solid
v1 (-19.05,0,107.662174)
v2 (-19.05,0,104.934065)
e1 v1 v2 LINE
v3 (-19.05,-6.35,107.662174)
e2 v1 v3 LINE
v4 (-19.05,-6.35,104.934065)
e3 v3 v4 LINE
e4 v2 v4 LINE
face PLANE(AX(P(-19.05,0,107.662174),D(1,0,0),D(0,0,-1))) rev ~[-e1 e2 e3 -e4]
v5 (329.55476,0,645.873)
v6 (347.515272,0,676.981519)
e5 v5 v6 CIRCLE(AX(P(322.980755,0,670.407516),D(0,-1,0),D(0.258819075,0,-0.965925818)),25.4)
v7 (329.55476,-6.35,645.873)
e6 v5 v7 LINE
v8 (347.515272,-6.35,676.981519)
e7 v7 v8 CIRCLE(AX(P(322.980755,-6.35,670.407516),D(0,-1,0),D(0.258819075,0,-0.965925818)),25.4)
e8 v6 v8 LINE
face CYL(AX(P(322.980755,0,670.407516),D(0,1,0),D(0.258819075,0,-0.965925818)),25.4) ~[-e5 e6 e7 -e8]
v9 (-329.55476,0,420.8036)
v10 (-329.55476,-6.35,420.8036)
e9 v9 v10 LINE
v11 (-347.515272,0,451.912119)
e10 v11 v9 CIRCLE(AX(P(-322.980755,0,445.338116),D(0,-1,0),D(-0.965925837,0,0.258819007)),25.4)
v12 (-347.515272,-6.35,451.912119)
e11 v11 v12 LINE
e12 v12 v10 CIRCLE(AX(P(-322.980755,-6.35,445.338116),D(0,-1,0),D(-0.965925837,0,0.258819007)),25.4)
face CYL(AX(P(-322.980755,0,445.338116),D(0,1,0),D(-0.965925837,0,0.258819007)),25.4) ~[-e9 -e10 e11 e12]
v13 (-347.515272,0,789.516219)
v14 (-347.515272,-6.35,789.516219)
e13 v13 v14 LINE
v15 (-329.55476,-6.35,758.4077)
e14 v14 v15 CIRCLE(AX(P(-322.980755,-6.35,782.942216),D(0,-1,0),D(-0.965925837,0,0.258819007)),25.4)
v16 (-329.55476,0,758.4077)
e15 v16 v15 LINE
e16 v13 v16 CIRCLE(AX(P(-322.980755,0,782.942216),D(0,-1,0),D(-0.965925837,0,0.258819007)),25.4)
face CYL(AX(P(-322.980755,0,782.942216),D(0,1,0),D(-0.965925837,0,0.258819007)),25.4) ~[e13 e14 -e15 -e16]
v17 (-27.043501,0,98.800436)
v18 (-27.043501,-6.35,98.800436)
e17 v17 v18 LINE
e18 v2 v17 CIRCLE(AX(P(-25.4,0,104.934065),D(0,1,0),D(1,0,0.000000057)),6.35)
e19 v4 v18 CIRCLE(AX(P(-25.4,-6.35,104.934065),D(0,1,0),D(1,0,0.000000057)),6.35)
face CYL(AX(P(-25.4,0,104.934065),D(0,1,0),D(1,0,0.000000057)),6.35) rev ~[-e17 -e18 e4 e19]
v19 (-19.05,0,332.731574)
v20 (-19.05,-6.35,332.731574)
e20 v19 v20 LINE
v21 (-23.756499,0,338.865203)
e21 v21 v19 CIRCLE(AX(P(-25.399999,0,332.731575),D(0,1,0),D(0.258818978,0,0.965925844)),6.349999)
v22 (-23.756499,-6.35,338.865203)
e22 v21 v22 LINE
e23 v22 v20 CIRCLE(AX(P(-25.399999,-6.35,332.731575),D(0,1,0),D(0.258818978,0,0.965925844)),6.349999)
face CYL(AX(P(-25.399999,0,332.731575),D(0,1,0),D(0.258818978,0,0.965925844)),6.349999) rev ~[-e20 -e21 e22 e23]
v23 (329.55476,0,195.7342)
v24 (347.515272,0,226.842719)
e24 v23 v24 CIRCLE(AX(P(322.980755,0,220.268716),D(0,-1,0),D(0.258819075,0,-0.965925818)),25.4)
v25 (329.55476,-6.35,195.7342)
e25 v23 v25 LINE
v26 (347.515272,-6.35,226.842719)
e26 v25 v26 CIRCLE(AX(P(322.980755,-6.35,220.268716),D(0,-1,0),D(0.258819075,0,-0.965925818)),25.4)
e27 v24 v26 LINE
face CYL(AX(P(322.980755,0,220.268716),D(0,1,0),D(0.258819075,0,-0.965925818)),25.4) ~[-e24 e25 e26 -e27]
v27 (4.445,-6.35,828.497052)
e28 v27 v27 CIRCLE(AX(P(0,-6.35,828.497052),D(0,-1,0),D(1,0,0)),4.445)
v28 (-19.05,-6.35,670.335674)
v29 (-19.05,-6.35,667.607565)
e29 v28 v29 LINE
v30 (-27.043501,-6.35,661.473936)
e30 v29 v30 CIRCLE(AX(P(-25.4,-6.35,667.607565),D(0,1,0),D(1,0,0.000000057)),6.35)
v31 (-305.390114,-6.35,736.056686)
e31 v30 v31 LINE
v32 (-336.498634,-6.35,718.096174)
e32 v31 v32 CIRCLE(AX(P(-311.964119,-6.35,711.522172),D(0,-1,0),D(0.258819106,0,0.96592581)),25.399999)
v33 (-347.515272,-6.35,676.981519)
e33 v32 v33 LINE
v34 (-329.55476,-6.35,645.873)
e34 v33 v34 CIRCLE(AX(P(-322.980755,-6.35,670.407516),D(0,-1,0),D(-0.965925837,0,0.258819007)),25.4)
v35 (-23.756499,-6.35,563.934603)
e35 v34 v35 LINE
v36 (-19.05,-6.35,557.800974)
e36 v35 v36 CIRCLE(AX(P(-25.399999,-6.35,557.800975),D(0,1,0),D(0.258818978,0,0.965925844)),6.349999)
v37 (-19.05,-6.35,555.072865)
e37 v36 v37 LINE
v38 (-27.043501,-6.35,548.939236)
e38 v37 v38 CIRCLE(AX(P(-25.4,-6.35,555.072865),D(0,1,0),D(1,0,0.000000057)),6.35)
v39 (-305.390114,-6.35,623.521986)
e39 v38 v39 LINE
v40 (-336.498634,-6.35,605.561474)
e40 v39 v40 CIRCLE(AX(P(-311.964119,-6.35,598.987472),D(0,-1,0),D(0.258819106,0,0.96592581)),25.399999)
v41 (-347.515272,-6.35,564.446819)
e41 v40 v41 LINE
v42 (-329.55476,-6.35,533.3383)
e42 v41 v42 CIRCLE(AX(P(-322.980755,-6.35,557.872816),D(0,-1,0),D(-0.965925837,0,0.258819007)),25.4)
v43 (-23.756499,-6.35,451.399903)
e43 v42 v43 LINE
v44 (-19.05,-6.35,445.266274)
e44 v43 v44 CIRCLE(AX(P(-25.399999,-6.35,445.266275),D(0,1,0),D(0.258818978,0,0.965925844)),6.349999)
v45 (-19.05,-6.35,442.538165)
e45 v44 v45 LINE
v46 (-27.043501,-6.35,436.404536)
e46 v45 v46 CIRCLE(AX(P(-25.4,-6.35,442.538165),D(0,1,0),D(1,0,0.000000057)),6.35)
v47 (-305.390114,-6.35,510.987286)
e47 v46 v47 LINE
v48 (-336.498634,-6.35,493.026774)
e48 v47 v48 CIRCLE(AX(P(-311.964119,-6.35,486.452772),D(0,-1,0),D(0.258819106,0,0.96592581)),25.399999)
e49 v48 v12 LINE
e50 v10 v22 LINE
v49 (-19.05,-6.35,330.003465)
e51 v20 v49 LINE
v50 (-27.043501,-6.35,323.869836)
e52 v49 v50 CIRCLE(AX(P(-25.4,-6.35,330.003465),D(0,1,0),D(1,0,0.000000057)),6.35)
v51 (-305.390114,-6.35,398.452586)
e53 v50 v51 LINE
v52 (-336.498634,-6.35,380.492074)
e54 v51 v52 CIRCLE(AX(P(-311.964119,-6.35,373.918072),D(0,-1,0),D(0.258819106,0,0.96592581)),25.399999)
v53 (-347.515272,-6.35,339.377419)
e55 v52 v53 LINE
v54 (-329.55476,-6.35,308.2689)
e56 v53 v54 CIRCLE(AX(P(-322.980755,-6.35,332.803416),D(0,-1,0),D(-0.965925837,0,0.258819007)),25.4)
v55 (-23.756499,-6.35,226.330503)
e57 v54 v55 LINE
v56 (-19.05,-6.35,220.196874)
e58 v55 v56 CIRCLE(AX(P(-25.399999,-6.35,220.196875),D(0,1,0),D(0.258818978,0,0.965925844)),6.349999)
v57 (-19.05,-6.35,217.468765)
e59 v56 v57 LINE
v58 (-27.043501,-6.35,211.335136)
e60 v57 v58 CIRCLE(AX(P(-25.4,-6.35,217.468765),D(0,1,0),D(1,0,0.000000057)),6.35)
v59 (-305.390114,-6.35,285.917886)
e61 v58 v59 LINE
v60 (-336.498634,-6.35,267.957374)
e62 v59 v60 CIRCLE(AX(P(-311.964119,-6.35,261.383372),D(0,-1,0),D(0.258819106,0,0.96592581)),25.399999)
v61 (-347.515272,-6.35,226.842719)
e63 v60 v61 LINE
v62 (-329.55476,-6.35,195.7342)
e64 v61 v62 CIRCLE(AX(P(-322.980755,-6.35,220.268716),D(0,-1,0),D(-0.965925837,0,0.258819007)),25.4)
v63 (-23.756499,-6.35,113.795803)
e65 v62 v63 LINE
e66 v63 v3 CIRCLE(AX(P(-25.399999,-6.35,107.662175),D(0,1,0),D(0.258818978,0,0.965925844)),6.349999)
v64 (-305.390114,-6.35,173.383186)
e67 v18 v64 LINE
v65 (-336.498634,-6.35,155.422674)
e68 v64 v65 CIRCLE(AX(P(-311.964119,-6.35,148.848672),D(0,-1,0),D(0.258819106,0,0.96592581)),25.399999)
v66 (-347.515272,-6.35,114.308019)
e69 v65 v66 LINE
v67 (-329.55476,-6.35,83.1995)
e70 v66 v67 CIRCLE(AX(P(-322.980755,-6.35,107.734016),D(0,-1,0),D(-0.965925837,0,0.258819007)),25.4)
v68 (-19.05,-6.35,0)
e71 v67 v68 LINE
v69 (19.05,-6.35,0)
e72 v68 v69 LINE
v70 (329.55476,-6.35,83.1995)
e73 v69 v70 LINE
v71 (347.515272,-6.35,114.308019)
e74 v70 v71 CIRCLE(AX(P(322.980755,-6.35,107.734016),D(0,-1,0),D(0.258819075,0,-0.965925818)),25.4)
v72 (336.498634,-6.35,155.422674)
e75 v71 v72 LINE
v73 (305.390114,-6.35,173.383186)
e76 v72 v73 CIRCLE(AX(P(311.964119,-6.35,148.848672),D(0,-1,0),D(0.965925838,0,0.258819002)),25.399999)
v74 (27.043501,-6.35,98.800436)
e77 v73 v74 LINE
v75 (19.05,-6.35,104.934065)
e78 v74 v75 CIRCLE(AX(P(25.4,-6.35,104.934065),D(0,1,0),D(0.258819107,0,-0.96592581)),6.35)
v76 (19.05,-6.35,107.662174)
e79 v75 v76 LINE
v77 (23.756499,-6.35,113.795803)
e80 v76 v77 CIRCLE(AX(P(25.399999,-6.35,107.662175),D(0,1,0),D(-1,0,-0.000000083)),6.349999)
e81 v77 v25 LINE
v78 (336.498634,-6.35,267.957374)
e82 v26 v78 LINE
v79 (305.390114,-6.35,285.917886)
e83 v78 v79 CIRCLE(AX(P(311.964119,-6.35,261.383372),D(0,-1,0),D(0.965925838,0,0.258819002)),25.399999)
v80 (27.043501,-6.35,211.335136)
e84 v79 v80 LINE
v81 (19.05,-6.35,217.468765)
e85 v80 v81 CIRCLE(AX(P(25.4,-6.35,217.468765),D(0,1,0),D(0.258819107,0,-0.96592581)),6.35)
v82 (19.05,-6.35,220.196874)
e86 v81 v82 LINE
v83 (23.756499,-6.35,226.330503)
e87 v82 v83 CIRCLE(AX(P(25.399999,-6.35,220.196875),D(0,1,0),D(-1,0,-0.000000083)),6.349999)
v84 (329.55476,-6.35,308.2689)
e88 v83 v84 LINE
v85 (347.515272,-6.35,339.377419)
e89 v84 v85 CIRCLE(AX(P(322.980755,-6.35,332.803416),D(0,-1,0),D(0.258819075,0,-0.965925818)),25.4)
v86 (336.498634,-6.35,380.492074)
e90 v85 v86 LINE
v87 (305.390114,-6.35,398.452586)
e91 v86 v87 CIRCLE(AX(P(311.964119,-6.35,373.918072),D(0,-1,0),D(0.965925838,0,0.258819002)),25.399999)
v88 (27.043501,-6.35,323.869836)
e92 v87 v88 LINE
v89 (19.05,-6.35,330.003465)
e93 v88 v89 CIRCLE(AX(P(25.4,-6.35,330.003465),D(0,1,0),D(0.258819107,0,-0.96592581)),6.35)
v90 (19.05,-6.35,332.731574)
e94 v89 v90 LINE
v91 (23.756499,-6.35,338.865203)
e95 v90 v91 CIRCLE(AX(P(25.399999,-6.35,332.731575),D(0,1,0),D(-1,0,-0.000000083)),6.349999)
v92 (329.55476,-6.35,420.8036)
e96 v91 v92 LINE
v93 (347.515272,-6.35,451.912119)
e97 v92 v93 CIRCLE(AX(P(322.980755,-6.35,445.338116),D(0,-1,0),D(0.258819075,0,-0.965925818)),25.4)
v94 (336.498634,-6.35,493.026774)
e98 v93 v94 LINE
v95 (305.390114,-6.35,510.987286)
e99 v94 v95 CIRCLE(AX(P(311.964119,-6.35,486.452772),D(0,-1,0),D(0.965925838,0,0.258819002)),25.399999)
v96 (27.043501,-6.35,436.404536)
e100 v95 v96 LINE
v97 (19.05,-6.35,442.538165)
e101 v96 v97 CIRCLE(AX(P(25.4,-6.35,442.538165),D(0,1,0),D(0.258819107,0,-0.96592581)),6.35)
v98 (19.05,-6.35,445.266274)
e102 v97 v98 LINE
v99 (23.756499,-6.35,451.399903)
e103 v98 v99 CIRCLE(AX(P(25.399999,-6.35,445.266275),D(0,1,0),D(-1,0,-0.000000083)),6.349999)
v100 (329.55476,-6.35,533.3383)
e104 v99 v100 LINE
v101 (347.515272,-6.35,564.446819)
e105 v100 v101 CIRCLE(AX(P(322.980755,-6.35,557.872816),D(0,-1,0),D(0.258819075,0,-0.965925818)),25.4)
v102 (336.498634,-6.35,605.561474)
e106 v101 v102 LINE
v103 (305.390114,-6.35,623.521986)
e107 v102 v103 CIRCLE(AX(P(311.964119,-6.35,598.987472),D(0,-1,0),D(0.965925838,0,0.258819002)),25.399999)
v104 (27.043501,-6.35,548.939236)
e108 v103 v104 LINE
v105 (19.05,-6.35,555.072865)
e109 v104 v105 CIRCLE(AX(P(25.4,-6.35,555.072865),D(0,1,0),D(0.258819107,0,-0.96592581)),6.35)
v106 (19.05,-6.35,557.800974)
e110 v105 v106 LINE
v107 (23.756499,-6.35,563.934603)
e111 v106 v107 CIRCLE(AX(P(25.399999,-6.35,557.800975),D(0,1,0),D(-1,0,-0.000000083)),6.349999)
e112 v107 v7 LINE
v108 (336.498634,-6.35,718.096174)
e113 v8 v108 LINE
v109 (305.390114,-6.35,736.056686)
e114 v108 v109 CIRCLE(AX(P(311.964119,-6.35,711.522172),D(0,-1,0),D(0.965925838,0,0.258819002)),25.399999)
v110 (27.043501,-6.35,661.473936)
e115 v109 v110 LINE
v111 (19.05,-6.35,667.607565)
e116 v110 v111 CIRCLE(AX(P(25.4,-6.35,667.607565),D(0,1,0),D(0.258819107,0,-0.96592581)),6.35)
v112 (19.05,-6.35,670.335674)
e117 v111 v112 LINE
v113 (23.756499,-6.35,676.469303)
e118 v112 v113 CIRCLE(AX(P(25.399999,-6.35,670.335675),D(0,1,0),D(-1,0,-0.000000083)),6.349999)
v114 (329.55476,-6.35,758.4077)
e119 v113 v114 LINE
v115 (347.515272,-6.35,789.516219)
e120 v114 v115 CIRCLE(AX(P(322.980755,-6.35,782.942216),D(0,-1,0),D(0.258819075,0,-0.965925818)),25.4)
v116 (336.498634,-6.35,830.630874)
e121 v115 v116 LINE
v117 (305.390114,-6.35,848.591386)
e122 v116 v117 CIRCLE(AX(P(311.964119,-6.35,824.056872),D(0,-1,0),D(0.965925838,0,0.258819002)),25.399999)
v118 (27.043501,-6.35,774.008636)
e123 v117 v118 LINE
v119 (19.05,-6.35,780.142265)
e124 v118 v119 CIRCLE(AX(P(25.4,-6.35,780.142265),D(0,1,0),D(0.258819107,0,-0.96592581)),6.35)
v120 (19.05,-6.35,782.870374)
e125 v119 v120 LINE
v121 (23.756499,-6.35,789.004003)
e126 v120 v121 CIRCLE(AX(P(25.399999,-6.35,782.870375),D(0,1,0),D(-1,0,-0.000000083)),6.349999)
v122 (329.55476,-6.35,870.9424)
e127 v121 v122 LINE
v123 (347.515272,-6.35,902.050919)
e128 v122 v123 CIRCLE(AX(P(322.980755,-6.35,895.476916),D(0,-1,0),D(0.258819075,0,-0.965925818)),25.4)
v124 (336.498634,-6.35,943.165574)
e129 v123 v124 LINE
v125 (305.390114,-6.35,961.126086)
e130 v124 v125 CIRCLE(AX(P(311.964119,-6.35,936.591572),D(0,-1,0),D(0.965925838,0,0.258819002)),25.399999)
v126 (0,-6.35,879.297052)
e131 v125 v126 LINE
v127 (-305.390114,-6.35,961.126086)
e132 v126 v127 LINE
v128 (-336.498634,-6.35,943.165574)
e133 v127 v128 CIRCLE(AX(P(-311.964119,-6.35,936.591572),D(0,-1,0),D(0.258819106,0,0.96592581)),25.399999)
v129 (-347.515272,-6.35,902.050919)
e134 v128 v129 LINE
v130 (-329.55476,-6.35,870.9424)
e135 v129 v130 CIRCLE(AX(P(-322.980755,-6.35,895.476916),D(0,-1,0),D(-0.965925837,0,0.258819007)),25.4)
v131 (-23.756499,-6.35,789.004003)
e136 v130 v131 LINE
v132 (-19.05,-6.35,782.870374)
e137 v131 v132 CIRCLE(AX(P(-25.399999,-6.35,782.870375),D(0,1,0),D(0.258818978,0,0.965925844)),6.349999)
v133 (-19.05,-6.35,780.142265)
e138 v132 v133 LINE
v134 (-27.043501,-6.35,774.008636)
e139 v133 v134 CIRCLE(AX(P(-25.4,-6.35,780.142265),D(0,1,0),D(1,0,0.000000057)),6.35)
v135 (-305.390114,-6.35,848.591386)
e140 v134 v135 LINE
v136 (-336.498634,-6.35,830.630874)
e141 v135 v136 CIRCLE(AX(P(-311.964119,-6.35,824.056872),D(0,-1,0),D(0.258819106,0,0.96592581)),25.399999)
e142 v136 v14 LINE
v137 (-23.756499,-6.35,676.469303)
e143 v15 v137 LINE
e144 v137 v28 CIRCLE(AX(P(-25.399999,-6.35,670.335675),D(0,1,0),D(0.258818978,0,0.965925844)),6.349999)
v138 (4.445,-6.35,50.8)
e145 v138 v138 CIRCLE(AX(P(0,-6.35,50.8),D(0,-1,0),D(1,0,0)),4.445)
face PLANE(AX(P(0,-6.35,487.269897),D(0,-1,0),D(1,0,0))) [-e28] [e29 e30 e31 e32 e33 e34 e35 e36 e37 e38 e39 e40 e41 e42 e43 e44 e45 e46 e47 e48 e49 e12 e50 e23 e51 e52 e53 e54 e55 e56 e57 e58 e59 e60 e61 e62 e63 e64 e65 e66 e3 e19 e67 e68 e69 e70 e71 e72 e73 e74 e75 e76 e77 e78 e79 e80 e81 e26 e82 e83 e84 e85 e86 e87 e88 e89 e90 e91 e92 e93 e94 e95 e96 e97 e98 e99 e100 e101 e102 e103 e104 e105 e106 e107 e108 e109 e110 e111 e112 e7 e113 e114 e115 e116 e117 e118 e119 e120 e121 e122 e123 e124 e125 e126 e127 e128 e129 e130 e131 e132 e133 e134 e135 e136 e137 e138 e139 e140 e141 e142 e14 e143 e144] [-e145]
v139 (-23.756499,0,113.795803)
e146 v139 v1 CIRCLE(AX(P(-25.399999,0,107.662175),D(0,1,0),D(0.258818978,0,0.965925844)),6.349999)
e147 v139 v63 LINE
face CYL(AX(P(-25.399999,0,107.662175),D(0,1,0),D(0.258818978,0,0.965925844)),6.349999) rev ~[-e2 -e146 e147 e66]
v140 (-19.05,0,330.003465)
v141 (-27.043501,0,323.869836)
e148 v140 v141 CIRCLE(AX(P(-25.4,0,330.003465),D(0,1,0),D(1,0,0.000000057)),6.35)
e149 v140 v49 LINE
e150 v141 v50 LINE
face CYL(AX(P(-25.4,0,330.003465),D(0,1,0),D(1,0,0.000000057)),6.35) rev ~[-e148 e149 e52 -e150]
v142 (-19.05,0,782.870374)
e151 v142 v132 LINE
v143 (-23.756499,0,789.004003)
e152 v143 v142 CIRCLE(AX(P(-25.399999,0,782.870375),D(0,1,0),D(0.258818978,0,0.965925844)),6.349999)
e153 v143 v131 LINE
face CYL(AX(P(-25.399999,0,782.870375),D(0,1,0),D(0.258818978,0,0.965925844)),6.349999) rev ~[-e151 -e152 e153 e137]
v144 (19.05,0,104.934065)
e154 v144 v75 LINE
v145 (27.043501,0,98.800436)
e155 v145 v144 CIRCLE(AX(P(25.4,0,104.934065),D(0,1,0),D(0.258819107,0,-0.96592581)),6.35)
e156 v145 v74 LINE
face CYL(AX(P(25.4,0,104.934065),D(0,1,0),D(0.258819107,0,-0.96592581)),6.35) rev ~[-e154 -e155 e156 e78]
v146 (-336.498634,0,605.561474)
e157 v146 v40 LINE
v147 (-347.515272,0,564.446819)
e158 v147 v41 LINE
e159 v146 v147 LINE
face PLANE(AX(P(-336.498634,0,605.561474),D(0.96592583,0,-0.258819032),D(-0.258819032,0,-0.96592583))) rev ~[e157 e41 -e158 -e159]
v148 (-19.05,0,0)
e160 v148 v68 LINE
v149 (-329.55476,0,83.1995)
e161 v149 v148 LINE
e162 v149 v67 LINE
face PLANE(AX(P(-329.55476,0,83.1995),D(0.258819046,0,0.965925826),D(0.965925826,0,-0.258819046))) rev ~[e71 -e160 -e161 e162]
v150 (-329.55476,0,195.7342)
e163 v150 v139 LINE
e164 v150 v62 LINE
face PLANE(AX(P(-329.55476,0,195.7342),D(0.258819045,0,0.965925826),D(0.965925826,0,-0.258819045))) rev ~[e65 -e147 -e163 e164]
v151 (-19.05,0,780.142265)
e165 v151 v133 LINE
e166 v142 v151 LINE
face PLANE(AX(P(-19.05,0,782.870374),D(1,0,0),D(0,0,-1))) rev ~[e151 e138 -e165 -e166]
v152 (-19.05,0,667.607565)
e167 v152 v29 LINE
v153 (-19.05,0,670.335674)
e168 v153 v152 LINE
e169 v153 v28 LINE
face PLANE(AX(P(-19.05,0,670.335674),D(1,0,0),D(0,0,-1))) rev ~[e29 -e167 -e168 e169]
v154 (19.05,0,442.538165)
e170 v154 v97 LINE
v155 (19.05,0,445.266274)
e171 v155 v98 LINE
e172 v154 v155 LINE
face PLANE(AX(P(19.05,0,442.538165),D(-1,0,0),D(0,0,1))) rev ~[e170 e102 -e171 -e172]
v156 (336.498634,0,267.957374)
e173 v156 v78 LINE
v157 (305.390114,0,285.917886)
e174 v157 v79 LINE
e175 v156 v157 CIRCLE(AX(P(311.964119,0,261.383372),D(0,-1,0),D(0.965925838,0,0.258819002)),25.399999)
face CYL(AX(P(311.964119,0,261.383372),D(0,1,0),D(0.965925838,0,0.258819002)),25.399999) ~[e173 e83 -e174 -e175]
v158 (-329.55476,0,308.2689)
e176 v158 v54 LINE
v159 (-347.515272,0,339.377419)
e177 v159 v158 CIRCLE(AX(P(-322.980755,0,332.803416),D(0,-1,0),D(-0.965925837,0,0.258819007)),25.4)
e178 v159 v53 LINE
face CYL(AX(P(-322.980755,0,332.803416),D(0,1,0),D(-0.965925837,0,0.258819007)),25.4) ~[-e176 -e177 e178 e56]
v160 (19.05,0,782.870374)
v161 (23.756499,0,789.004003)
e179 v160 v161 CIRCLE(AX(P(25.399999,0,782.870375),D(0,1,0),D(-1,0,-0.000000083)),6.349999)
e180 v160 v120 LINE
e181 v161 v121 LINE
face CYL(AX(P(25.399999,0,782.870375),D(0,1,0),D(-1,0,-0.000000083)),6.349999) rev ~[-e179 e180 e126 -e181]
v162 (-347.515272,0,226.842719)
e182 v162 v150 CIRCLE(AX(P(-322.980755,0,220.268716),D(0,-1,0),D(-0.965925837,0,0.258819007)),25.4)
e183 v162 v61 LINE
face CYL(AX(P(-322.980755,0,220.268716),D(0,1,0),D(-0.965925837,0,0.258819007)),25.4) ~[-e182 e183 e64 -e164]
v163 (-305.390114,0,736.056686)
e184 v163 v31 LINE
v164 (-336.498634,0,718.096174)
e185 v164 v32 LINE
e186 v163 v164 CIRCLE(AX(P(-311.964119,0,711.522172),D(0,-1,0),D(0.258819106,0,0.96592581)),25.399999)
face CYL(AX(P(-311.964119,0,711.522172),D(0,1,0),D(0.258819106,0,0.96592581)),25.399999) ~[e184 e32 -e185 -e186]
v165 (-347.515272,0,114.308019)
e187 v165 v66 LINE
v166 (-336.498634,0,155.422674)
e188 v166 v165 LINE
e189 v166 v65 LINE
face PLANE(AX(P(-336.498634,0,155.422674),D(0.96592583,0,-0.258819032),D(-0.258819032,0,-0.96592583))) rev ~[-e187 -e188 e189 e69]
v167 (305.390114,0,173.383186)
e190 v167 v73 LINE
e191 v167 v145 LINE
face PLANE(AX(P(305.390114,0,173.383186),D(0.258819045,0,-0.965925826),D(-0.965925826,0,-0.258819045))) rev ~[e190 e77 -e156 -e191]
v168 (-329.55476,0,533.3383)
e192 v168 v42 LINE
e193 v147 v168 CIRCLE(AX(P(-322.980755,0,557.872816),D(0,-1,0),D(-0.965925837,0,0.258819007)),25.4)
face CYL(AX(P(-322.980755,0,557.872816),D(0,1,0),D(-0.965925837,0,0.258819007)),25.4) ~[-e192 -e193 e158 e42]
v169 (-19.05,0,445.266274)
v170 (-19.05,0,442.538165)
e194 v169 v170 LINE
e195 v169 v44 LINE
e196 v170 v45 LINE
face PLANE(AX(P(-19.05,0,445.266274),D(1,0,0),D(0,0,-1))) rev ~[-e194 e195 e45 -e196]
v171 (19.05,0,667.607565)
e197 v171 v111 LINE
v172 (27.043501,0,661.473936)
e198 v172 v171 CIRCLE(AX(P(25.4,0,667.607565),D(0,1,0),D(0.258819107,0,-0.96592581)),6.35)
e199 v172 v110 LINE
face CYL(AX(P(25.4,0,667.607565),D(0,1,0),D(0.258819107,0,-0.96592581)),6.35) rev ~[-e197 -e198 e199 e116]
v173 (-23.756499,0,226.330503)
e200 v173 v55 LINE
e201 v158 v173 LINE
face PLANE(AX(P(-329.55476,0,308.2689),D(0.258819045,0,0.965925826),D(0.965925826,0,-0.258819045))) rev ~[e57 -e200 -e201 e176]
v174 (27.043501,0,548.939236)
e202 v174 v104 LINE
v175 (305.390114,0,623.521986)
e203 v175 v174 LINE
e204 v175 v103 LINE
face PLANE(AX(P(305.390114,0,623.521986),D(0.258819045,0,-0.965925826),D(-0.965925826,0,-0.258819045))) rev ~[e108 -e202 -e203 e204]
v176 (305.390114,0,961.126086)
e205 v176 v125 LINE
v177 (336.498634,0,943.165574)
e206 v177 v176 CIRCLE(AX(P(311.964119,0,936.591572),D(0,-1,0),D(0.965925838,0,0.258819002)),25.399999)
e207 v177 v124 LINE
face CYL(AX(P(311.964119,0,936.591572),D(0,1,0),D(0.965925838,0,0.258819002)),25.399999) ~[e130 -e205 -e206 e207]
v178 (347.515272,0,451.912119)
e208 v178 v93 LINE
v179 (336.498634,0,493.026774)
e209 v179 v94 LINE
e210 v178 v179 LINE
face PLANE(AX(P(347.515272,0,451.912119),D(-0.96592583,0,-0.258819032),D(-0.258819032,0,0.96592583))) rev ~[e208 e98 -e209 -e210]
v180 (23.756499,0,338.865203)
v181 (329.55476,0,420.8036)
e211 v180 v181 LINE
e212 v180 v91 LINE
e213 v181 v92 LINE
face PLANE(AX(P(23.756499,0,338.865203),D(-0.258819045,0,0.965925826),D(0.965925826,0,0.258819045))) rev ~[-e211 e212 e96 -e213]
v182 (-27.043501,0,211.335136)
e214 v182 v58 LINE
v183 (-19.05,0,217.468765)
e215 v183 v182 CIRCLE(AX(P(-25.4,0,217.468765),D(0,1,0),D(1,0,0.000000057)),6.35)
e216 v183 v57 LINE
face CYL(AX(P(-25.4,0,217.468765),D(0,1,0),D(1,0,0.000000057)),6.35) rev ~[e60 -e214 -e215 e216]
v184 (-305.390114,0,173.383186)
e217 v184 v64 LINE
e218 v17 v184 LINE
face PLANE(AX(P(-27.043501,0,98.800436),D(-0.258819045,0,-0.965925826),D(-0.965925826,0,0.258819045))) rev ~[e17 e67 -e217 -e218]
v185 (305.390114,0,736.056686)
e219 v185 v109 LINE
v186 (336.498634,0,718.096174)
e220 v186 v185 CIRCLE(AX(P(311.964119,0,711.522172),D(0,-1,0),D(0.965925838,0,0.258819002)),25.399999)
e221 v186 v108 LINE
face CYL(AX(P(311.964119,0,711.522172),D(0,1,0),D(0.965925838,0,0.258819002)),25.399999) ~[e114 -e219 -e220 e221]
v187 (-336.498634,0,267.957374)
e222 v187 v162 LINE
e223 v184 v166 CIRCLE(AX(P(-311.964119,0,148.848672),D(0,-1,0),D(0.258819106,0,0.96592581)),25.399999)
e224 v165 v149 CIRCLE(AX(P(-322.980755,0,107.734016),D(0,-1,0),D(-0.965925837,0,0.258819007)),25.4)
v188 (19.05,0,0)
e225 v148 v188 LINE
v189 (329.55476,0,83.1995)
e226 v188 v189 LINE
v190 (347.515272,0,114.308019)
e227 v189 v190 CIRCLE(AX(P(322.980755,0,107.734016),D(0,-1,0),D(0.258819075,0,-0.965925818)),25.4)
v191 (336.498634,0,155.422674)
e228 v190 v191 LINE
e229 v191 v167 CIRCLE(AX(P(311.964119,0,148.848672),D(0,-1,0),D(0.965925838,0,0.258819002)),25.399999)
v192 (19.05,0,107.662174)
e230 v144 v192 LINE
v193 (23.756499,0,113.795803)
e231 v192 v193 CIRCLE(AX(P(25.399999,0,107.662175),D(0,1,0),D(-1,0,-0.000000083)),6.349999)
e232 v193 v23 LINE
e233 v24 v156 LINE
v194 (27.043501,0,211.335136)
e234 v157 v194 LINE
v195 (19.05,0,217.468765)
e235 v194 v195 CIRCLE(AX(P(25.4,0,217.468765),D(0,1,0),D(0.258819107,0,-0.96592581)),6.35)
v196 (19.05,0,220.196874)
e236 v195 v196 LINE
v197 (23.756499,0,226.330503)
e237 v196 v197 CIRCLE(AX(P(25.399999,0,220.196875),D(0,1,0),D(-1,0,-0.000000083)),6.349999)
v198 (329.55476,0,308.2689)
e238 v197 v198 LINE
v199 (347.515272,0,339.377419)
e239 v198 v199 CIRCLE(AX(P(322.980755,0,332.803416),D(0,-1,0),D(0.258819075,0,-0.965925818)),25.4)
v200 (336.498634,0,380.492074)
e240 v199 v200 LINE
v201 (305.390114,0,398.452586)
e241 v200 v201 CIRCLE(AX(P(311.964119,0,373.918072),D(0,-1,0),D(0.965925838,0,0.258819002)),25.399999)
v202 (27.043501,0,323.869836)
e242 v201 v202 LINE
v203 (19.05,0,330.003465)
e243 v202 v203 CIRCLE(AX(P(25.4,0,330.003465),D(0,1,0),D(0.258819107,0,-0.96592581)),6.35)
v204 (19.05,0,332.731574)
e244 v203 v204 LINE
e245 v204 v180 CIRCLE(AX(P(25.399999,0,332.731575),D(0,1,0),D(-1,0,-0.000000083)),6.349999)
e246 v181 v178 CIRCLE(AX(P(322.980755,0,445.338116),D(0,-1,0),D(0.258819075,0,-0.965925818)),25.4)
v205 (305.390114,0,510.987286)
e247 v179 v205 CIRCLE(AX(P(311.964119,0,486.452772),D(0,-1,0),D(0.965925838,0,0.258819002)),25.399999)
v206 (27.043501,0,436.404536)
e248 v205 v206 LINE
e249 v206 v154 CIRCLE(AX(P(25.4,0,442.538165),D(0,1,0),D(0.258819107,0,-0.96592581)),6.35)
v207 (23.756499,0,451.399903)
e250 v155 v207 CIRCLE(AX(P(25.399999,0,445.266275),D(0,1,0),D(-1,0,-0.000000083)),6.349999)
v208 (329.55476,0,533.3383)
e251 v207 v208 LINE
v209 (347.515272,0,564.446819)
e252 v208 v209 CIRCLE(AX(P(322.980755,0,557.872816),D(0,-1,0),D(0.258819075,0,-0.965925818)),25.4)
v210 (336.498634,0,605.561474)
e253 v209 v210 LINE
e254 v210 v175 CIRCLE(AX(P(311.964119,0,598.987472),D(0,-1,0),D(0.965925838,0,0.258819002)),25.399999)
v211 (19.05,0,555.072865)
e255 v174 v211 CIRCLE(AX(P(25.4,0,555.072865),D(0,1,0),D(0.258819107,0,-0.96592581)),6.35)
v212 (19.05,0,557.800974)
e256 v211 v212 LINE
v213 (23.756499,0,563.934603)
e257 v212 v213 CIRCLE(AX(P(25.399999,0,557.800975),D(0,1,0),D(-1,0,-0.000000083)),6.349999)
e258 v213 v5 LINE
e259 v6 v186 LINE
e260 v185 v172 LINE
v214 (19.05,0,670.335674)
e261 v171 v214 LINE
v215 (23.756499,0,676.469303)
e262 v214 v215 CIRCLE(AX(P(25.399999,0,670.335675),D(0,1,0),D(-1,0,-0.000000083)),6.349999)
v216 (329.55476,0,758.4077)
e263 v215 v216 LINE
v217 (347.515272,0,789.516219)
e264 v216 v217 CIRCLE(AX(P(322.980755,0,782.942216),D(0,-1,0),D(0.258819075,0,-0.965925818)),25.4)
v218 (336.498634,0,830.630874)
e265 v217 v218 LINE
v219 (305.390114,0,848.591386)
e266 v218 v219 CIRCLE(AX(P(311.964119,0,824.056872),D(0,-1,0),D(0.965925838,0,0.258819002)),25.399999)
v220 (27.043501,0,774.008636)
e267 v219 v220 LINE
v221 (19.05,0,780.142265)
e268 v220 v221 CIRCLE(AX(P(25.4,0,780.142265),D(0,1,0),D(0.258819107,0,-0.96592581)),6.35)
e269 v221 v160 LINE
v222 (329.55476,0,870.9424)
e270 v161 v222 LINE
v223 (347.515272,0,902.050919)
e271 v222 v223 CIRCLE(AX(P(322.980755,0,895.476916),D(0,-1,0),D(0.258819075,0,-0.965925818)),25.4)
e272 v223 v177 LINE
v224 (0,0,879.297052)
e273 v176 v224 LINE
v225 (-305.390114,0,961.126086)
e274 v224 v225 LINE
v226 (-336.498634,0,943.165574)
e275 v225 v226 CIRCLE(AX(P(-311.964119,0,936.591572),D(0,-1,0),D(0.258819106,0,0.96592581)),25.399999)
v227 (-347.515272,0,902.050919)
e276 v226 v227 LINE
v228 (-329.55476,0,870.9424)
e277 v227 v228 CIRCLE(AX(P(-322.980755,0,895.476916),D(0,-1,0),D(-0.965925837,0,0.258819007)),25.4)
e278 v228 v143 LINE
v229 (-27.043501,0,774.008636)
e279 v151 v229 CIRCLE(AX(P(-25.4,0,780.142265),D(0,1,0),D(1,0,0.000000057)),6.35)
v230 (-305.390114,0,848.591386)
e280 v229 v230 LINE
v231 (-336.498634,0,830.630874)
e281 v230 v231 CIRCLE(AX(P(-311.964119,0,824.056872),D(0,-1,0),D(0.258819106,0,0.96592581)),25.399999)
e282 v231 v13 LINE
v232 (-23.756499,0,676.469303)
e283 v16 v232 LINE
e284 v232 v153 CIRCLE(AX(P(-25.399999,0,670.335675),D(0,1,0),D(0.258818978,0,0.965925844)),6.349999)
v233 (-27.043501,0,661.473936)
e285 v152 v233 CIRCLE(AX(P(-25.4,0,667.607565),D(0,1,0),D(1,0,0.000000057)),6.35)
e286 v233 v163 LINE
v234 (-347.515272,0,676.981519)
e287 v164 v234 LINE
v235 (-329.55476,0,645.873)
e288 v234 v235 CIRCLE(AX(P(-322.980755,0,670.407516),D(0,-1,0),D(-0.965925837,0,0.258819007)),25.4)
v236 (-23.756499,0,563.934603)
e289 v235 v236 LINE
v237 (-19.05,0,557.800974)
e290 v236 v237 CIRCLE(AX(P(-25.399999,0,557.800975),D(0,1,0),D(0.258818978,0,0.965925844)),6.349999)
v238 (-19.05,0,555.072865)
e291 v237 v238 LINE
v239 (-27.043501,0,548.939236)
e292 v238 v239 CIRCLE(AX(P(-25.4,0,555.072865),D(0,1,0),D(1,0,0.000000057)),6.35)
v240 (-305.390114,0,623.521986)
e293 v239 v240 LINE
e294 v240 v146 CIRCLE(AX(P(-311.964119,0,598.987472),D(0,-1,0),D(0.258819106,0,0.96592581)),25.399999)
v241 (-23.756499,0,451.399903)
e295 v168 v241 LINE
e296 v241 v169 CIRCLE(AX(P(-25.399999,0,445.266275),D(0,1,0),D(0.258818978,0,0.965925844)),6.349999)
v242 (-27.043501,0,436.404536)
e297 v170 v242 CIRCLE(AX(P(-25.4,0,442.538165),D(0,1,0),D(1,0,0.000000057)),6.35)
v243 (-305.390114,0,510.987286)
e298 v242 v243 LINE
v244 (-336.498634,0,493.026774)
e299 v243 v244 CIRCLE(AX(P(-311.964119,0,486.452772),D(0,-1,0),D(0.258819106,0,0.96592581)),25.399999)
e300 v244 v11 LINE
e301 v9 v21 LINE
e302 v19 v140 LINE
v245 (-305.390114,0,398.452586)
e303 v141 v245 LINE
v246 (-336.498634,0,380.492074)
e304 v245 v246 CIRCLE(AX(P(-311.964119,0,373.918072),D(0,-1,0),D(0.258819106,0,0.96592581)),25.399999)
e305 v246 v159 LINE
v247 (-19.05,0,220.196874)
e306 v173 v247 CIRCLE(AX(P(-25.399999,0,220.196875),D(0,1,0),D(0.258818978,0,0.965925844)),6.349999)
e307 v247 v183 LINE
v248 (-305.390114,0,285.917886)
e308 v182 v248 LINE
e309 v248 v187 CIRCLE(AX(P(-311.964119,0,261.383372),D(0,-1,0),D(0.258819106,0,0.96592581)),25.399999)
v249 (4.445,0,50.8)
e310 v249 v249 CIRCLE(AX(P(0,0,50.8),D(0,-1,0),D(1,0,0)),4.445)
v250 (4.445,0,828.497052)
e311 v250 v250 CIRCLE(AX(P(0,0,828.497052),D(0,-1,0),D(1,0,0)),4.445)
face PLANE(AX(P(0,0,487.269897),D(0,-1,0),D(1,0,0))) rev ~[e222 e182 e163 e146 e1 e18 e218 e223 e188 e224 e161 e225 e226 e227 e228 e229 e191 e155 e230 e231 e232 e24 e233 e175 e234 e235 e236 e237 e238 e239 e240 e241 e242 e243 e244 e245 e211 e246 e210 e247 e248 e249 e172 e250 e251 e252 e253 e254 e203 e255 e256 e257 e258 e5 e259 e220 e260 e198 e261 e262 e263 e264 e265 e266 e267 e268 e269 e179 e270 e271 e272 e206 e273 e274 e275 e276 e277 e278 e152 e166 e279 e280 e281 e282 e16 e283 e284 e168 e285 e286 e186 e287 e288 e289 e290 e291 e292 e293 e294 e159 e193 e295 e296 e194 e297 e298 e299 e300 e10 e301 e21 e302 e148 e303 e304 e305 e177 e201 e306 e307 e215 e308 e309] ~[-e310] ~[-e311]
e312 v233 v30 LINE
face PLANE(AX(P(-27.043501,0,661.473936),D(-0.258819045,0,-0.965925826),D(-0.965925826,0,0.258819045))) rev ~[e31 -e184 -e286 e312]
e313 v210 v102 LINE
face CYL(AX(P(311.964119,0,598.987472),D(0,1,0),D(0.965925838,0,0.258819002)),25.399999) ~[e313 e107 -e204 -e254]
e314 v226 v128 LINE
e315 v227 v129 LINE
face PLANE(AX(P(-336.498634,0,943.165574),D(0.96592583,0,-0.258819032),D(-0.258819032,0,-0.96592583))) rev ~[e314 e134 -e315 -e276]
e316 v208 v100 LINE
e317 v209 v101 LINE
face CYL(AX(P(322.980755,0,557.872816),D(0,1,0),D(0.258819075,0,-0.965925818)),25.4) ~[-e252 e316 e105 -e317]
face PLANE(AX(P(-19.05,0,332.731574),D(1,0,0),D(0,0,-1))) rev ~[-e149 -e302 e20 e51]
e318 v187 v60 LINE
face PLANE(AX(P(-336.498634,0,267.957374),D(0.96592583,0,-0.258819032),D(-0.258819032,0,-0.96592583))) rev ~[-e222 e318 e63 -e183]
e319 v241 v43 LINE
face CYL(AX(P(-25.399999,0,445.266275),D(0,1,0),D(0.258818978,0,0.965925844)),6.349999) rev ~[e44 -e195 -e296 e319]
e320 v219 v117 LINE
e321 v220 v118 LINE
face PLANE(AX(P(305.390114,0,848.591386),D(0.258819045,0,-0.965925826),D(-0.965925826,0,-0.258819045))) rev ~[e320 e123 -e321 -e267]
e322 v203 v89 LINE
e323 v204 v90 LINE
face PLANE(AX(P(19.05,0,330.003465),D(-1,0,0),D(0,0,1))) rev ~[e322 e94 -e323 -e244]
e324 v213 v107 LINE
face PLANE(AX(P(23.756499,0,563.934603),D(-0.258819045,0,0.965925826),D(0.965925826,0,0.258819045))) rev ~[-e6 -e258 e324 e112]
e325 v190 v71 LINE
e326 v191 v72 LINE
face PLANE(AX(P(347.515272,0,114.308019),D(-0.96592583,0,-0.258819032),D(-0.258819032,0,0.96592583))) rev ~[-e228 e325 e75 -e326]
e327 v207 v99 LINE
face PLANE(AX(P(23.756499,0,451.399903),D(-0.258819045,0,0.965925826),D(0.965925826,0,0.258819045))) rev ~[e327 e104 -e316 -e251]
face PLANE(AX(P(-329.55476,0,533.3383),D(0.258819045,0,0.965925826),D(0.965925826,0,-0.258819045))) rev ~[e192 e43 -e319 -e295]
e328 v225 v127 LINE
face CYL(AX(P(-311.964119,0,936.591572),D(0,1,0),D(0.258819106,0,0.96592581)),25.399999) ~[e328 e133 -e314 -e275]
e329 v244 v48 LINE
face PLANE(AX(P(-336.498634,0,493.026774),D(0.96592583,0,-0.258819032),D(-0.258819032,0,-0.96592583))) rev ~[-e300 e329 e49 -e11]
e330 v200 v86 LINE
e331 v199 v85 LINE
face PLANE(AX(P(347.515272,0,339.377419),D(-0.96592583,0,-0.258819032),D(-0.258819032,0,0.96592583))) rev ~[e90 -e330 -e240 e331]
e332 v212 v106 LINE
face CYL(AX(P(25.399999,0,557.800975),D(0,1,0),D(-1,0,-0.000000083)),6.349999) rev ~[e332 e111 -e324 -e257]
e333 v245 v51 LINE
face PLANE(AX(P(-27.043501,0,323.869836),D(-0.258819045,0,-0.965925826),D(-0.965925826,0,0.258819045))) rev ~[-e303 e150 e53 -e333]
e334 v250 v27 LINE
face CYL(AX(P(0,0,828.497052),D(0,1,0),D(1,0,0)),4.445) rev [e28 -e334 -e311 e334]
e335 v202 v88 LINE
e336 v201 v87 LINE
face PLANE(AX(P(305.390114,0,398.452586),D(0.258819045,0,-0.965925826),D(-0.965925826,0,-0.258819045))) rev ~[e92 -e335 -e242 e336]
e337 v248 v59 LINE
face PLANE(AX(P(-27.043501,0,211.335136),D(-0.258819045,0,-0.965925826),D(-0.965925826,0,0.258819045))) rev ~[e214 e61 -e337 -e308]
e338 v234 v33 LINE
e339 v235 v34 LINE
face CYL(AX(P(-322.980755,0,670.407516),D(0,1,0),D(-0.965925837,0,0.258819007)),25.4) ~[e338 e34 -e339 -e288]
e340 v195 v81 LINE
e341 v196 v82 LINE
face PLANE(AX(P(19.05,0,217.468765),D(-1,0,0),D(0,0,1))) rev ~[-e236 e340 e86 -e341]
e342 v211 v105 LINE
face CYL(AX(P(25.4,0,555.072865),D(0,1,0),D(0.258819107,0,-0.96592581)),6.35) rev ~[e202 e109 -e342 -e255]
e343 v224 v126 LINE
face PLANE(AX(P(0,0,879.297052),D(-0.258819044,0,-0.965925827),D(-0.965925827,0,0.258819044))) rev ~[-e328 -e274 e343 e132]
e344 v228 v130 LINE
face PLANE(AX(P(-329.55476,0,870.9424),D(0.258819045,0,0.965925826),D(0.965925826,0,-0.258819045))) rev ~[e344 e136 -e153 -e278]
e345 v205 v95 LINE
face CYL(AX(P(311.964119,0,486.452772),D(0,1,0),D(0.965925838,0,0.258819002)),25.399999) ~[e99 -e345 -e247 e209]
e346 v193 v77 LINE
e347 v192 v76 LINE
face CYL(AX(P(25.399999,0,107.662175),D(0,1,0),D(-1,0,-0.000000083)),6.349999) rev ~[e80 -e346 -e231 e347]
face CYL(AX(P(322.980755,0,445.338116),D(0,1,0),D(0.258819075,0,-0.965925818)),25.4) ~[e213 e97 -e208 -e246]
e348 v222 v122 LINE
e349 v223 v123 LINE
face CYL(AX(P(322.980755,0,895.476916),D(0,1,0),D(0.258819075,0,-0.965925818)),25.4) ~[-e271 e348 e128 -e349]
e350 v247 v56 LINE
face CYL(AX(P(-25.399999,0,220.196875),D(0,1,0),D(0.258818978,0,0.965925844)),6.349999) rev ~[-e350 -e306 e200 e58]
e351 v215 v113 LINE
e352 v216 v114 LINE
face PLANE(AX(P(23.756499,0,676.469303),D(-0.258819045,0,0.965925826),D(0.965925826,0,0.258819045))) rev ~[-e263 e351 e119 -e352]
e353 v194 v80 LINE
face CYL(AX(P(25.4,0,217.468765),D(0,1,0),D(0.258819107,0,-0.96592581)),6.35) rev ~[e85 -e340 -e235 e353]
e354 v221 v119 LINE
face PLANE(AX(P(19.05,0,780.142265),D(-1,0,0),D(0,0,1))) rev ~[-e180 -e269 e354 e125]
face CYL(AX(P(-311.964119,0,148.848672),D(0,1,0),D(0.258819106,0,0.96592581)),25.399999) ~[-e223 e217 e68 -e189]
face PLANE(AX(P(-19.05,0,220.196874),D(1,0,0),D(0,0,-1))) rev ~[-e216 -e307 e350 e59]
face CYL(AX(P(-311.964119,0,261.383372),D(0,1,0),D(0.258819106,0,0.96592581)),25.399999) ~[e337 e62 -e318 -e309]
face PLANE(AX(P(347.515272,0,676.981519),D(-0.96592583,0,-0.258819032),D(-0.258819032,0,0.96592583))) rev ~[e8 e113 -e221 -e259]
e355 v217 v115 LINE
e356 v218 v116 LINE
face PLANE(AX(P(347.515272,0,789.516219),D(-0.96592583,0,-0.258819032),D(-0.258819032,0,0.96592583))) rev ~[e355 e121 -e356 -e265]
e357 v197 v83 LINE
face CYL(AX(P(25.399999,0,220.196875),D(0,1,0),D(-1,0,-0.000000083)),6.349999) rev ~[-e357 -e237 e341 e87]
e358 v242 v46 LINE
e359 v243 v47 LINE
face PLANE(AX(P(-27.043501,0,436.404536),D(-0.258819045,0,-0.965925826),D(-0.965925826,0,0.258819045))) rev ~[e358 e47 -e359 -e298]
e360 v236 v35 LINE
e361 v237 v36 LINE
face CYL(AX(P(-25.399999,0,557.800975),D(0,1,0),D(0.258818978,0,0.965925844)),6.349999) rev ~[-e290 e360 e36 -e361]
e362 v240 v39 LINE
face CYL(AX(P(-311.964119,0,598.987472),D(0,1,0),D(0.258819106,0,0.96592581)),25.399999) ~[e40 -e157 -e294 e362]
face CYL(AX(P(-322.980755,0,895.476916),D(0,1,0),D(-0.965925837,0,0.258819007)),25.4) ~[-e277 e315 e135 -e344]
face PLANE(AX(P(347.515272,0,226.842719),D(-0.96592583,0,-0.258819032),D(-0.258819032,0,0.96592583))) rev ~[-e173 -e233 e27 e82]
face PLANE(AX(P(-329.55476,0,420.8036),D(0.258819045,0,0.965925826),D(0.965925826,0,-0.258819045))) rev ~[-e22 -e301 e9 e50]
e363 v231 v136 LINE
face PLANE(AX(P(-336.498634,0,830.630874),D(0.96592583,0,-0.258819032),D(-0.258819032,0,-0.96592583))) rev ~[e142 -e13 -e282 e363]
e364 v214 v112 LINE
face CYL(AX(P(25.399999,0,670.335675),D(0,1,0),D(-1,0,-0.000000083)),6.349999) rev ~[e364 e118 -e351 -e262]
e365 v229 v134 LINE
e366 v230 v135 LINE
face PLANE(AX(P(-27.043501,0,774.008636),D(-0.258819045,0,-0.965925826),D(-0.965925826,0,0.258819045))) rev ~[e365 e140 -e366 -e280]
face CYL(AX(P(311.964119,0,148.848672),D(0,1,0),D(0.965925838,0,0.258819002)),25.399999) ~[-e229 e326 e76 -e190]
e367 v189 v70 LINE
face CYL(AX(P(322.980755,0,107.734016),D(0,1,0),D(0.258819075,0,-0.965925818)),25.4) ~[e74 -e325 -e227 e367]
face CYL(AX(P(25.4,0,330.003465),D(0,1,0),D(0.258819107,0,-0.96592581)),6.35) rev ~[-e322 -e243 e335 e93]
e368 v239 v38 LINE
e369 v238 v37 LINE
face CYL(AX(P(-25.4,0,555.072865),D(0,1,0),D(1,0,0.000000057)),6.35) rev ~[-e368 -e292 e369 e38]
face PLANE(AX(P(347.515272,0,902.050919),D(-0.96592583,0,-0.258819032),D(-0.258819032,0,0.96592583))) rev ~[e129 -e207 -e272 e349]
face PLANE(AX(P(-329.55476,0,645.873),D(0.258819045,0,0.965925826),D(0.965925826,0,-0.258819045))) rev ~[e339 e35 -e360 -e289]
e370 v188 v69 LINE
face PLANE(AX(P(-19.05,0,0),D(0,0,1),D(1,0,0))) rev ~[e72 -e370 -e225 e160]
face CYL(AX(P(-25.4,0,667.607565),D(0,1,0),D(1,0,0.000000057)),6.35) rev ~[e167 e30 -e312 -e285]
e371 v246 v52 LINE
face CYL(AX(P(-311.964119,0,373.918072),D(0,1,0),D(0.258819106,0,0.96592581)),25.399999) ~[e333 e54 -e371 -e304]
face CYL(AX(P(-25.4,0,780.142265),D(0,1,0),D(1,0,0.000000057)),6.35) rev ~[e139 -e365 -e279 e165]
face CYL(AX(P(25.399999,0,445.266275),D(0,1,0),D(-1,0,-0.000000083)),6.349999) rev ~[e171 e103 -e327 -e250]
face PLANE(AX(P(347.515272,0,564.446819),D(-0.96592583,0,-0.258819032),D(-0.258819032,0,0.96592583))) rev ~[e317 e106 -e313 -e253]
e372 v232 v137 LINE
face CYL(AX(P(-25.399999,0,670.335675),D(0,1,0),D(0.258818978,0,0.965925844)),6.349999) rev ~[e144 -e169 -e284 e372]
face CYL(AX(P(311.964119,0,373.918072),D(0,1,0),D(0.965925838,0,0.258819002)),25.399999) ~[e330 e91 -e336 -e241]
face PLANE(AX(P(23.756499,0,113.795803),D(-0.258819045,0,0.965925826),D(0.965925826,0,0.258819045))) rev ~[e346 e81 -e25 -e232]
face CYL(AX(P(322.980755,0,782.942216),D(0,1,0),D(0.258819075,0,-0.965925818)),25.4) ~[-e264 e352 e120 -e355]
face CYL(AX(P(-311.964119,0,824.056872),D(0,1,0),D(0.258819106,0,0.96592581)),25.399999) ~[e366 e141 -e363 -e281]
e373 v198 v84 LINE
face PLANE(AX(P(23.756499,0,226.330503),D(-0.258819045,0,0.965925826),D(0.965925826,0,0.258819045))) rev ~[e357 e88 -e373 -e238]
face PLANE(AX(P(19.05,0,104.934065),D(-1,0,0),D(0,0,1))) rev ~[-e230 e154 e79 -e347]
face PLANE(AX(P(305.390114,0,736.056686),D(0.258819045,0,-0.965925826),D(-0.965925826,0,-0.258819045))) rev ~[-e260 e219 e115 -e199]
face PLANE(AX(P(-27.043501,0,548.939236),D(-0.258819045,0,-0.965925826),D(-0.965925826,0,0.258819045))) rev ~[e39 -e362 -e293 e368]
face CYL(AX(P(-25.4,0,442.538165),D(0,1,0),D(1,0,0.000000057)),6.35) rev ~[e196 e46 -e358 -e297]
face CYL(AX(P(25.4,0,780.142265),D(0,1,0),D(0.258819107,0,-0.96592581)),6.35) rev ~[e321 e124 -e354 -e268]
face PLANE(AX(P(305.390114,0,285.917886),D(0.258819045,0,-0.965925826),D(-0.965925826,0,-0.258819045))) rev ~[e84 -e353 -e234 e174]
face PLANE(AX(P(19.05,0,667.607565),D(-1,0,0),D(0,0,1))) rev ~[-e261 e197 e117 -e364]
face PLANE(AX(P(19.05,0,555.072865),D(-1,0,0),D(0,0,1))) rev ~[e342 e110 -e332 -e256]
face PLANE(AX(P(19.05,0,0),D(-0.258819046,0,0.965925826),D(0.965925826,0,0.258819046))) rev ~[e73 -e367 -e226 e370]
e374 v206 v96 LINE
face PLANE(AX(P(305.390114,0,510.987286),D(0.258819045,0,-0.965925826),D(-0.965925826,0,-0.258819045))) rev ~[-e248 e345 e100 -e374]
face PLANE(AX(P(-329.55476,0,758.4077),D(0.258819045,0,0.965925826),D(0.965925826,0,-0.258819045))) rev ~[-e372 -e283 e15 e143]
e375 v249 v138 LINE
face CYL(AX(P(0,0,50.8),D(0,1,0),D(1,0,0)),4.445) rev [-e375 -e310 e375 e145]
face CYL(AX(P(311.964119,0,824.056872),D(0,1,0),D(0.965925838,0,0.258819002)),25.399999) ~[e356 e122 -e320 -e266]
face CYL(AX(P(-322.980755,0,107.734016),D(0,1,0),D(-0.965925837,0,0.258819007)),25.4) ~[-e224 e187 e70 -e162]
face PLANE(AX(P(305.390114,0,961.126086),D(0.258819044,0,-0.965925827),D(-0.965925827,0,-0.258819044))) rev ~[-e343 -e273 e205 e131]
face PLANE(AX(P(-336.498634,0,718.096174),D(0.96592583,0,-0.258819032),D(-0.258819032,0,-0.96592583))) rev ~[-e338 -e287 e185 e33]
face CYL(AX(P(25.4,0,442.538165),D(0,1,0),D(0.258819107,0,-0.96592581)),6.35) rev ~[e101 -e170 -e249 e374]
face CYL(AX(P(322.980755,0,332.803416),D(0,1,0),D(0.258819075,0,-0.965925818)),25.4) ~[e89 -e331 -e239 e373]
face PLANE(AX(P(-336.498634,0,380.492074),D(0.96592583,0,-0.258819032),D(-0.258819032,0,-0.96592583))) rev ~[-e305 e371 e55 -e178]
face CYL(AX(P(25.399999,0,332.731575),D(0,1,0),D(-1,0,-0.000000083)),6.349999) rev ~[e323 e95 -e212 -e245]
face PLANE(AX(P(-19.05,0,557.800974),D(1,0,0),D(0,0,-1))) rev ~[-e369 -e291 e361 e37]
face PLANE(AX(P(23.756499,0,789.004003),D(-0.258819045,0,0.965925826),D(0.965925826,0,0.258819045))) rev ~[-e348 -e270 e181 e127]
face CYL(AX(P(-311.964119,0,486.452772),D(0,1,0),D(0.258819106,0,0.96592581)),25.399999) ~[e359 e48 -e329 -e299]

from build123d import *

# Parameters (mm, degrees)
F0_R     = 4.445
F1_DEPTH = 6.35


with BuildPart() as f1:
    # F0 (on Front) → F1 (new body)
    with BuildSketch(Plane.XZ):
        with BuildLine():
            Line((-19.05, 0), (0, 0))
            Line((0, 0), (19.05, 0))
            Line((19.05, 0), (329.55476, 83.1995))
            ThreePointArc((329.55476, 83.1995), (344.977801, 95.034016), (347.515272, 114.308019))
            Line((347.515272, 114.308019), (336.498634, 155.422674))
            ThreePointArc((336.498634, 155.422674), (324.664118, 170.845716), (305.390114, 173.383186))
            Line((305.390114, 173.383186), (27.043501, 98.800436))
            ThreePointArc((27.043501, 98.800436), (21.534365, 99.896271), (19.05, 104.934065))
            Line((19.05, 104.934065), (19.05, 107.662174))
            ThreePointArc((19.05, 107.662174), (20.362206, 111.527809), (23.756499, 113.795803))
            Line((23.756499, 113.795803), (329.55476, 195.7342))
            ThreePointArc((329.55476, 195.7342), (344.977801, 207.568716), (347.515272, 226.842719))
            Line((347.515272, 226.842719), (336.498634, 267.957374))
            ThreePointArc((336.498634, 267.957374), (324.664118, 283.380416), (305.390114, 285.917886))
            Line((305.390114, 285.917886), (27.043501, 211.335136))
            ThreePointArc((27.043501, 211.335136), (21.534365, 212.430971), (19.05, 217.468765))
            Line((19.05, 217.468765), (19.05, 220.196874))
            ThreePointArc((19.05, 220.196874), (20.362206, 224.062509), (23.756499, 226.330503))
            Line((23.756499, 226.330503), (329.55476, 308.2689))
            ThreePointArc((329.55476, 308.2689), (344.977801, 320.103416), (347.515272, 339.377419))
            Line((347.515272, 339.377419), (336.498634, 380.492074))
            ThreePointArc((336.498634, 380.492074), (324.664118, 395.915116), (305.390114, 398.452586))
            Line((305.390114, 398.452586), (27.043501, 323.869836))
            ThreePointArc((27.043501, 323.869836), (21.534365, 324.965671), (19.05, 330.003465))
            Line((19.05, 330.003465), (19.05, 332.731574))
            ThreePointArc((19.05, 332.731574), (20.362206, 336.597209), (23.756499, 338.865203))
            Line((23.756499, 338.865203), (329.55476, 420.8036))
            ThreePointArc((329.55476, 420.8036), (344.977801, 432.638116), (347.515272, 451.912119))
            Line((347.515272, 451.912119), (336.498634, 493.026774))
            ThreePointArc((336.498634, 493.026774), (324.664118, 508.449816), (305.390114, 510.987286))
            Line((305.390114, 510.987286), (27.043501, 436.404536))
            ThreePointArc((27.043501, 436.404536), (21.534365, 437.500371), (19.05, 442.538165))
            Line((19.05, 442.538165), (19.05, 445.266274))
            ThreePointArc((19.05, 445.266274), (20.362206, 449.131909), (23.756499, 451.399903))
            Line((23.756499, 451.399903), (329.55476, 533.3383))
            ThreePointArc((329.55476, 533.3383), (344.977801, 545.172816), (347.515272, 564.446819))
            Line((347.515272, 564.446819), (336.498634, 605.561474))
            ThreePointArc((336.498634, 605.561474), (324.664118, 620.984516), (305.390114, 623.521986))
            Line((305.390114, 623.521986), (27.043501, 548.939236))
            ThreePointArc((27.043501, 548.939236), (21.534365, 550.035071), (19.05, 555.072865))
            Line((19.05, 555.072865), (19.05, 557.800974))
            ThreePointArc((19.05, 557.800974), (20.362206, 561.666609), (23.756499, 563.934603))
            Line((23.756499, 563.934603), (329.55476, 645.873))
            ThreePointArc((329.55476, 645.873), (344.977801, 657.707516), (347.515272, 676.981519))
            Line((347.515272, 676.981519), (336.498634, 718.096174))
            ThreePointArc((336.498634, 718.096174), (324.664118, 733.519216), (305.390114, 736.056686))
            Line((305.390114, 736.056686), (27.043501, 661.473936))
            ThreePointArc((27.043501, 661.473936), (21.534365, 662.569771), (19.05, 667.607565))
            Line((19.05, 667.607565), (19.05, 670.335674))
            ThreePointArc((19.05, 670.335674), (20.362206, 674.201309), (23.756499, 676.469303))
            Line((23.756499, 676.469303), (329.55476, 758.4077))
            ThreePointArc((329.55476, 758.4077), (344.977801, 770.242216), (347.515272, 789.516219))
            Line((347.515272, 789.516219), (336.498634, 830.630874))
            ThreePointArc((336.498634, 830.630874), (324.664118, 846.053916), (305.390114, 848.591386))
            Line((305.390114, 848.591386), (27.043501, 774.008636))
            ThreePointArc((27.043501, 774.008636), (21.534365, 775.104471), (19.05, 780.142265))
            Line((19.05, 780.142265), (19.05, 782.870374))
            ThreePointArc((19.05, 782.870374), (20.362206, 786.736009), (23.756499, 789.004003))
            Line((23.756499, 789.004003), (329.55476, 870.9424))
            ThreePointArc((329.55476, 870.9424), (344.977801, 882.776916), (347.515272, 902.050919))
            Line((347.515272, 902.050919), (336.498634, 943.165574))
            ThreePointArc((336.498634, 943.165574), (324.664118, 958.588616), (305.390114, 961.126086))
            Line((305.390114, 961.126086), (0, 879.297052))
            Line((0, 879.297052), (-305.390114, 961.126086))
            ThreePointArc((-305.390114, 961.126086), (-324.664118, 958.588616), (-336.498634, 943.165574))
            Line((-336.498634, 943.165574), (-347.515272, 902.050919))
            ThreePointArc((-347.515272, 902.050919), (-344.977801, 882.776916), (-329.55476, 870.9424))
            Line((-329.55476, 870.9424), (-23.756499, 789.004003))
            ThreePointArc((-23.756499, 789.004003), (-20.362206, 786.736009), (-19.05, 782.870374))
            Line((-19.05, 782.870374), (-19.05, 780.142265))
            ThreePointArc((-19.05, 780.142265), (-21.534365, 775.104471), (-27.043501, 774.008636))
            Line((-27.043501, 774.008636), (-305.390114, 848.591386))
            ThreePointArc((-305.390114, 848.591386), (-324.664118, 846.053916), (-336.498634, 830.630874))
            Line((-336.498634, 830.630874), (-347.515272, 789.516219))
            ThreePointArc((-347.515272, 789.516219), (-344.977801, 770.242216), (-329.55476, 758.4077))
            Line((-329.55476, 758.4077), (-23.756499, 676.469303))
            ThreePointArc((-23.756499, 676.469303), (-20.362206, 674.201309), (-19.05, 670.335674))
            Line((-19.05, 670.335674), (-19.05, 667.607565))
            ThreePointArc((-19.05, 667.607565), (-21.534365, 662.569771), (-27.043501, 661.473936))
            Line((-27.043501, 661.473936), (-305.390114, 736.056686))
            ThreePointArc((-305.390114, 736.056686), (-324.664118, 733.519216), (-336.498634, 718.096174))
            Line((-336.498634, 718.096174), (-347.515272, 676.981519))
            ThreePointArc((-347.515272, 676.981519), (-344.977801, 657.707516), (-329.55476, 645.873))
            Line((-329.55476, 645.873), (-23.756499, 563.934603))
            ThreePointArc((-23.756499, 563.934603), (-20.362206, 561.666609), (-19.05, 557.800974))
            Line((-19.05, 557.800974), (-19.05, 555.072865))
            ThreePointArc((-19.05, 555.072865), (-21.534365, 550.035071), (-27.043501, 548.939236))
            Line((-27.043501, 548.939236), (-305.390114, 623.521986))
            ThreePointArc((-305.390114, 623.521986), (-324.664118, 620.984516), (-336.498634, 605.561474))
            Line((-336.498634, 605.561474), (-347.515272, 564.446819))
            ThreePointArc((-347.515272, 564.446819), (-344.977801, 545.172816), (-329.55476, 533.3383))
            Line((-329.55476, 533.3383), (-23.756499, 451.399903))
            ThreePointArc((-23.756499, 451.399903), (-20.362206, 449.131909), (-19.05, 445.266274))
            Line((-19.05, 445.266274), (-19.05, 442.538165))
            ThreePointArc((-19.05, 442.538165), (-21.534365, 437.500371), (-27.043501, 436.404536))
            Line((-27.043501, 436.404536), (-305.390114, 510.987286))
            ThreePointArc((-305.390114, 510.987286), (-324.664118, 508.449816), (-336.498634, 493.026774))
            Line((-336.498634, 493.026774), (-347.515272, 451.912119))
            ThreePointArc((-347.515272, 451.912119), (-344.977801, 432.638116), (-329.55476, 420.8036))
            Line((-329.55476, 420.8036), (-23.756499, 338.865203))
            ThreePointArc((-23.756499, 338.865203), (-20.362206, 336.597209), (-19.05, 332.731574))
            Line((-19.05, 332.731574), (-19.05, 330.003465))
            ThreePointArc((-19.05, 330.003465), (-21.534365, 324.965671), (-27.043501, 323.869836))
            Line((-27.043501, 323.869836), (-305.390114, 398.452586))
            ThreePointArc((-305.390114, 398.452586), (-324.664118, 395.915116), (-336.498634, 380.492074))
            Line((-336.498634, 380.492074), (-347.515272, 339.377419))
            ThreePointArc((-347.515272, 339.377419), (-344.977801, 320.103416), (-329.55476, 308.2689))
            Line((-329.55476, 308.2689), (-23.756499, 226.330503))
            ThreePointArc((-23.756499, 226.330503), (-20.362206, 224.062509), (-19.05, 220.196874))
            Line((-19.05, 220.196874), (-19.05, 217.468765))
            ThreePointArc((-19.05, 217.468765), (-21.534365, 212.430971), (-27.043501, 211.335136))
            Line((-27.043501, 211.335136), (-305.390114, 285.917886))
            ThreePointArc((-305.390114, 285.917886), (-324.664118, 283.380416), (-336.498634, 267.957374))
            Line((-336.498634, 267.957374), (-347.515272, 226.842719))
            ThreePointArc((-347.515272, 226.842719), (-344.977801, 207.568716), (-329.55476, 195.7342))
            Line((-329.55476, 195.7342), (-23.756499, 113.795803))
            ThreePointArc((-23.756499, 113.795803), (-20.362206, 111.527809), (-19.05, 107.662174))
            Line((-19.05, 107.662174), (-19.05, 104.934065))
            ThreePointArc((-19.05, 104.934065), (-21.534365, 99.896271), (-27.043501, 98.800436))
            Line((-27.043501, 98.800436), (-305.390114, 173.383186))
            ThreePointArc((-305.390114, 173.383186), (-324.664118, 170.845716), (-336.498634, 155.422674))
            Line((-336.498634, 155.422674), (-347.515272, 114.308019))
            ThreePointArc((-347.515272, 114.308019), (-344.977801, 95.034016), (-329.55476, 83.1995))
            Line((-329.55476, 83.1995), (-19.05, 0))
        make_face()
        with Locations((0, 50.8)):
            Circle(F0_R, mode=Mode.SUBTRACT)
        with Locations((0, 828.497052)):
            Circle(F0_R, mode=Mode.SUBTRACT)
    extrude(amount=F1_DEPTH)


solid = f1.part
